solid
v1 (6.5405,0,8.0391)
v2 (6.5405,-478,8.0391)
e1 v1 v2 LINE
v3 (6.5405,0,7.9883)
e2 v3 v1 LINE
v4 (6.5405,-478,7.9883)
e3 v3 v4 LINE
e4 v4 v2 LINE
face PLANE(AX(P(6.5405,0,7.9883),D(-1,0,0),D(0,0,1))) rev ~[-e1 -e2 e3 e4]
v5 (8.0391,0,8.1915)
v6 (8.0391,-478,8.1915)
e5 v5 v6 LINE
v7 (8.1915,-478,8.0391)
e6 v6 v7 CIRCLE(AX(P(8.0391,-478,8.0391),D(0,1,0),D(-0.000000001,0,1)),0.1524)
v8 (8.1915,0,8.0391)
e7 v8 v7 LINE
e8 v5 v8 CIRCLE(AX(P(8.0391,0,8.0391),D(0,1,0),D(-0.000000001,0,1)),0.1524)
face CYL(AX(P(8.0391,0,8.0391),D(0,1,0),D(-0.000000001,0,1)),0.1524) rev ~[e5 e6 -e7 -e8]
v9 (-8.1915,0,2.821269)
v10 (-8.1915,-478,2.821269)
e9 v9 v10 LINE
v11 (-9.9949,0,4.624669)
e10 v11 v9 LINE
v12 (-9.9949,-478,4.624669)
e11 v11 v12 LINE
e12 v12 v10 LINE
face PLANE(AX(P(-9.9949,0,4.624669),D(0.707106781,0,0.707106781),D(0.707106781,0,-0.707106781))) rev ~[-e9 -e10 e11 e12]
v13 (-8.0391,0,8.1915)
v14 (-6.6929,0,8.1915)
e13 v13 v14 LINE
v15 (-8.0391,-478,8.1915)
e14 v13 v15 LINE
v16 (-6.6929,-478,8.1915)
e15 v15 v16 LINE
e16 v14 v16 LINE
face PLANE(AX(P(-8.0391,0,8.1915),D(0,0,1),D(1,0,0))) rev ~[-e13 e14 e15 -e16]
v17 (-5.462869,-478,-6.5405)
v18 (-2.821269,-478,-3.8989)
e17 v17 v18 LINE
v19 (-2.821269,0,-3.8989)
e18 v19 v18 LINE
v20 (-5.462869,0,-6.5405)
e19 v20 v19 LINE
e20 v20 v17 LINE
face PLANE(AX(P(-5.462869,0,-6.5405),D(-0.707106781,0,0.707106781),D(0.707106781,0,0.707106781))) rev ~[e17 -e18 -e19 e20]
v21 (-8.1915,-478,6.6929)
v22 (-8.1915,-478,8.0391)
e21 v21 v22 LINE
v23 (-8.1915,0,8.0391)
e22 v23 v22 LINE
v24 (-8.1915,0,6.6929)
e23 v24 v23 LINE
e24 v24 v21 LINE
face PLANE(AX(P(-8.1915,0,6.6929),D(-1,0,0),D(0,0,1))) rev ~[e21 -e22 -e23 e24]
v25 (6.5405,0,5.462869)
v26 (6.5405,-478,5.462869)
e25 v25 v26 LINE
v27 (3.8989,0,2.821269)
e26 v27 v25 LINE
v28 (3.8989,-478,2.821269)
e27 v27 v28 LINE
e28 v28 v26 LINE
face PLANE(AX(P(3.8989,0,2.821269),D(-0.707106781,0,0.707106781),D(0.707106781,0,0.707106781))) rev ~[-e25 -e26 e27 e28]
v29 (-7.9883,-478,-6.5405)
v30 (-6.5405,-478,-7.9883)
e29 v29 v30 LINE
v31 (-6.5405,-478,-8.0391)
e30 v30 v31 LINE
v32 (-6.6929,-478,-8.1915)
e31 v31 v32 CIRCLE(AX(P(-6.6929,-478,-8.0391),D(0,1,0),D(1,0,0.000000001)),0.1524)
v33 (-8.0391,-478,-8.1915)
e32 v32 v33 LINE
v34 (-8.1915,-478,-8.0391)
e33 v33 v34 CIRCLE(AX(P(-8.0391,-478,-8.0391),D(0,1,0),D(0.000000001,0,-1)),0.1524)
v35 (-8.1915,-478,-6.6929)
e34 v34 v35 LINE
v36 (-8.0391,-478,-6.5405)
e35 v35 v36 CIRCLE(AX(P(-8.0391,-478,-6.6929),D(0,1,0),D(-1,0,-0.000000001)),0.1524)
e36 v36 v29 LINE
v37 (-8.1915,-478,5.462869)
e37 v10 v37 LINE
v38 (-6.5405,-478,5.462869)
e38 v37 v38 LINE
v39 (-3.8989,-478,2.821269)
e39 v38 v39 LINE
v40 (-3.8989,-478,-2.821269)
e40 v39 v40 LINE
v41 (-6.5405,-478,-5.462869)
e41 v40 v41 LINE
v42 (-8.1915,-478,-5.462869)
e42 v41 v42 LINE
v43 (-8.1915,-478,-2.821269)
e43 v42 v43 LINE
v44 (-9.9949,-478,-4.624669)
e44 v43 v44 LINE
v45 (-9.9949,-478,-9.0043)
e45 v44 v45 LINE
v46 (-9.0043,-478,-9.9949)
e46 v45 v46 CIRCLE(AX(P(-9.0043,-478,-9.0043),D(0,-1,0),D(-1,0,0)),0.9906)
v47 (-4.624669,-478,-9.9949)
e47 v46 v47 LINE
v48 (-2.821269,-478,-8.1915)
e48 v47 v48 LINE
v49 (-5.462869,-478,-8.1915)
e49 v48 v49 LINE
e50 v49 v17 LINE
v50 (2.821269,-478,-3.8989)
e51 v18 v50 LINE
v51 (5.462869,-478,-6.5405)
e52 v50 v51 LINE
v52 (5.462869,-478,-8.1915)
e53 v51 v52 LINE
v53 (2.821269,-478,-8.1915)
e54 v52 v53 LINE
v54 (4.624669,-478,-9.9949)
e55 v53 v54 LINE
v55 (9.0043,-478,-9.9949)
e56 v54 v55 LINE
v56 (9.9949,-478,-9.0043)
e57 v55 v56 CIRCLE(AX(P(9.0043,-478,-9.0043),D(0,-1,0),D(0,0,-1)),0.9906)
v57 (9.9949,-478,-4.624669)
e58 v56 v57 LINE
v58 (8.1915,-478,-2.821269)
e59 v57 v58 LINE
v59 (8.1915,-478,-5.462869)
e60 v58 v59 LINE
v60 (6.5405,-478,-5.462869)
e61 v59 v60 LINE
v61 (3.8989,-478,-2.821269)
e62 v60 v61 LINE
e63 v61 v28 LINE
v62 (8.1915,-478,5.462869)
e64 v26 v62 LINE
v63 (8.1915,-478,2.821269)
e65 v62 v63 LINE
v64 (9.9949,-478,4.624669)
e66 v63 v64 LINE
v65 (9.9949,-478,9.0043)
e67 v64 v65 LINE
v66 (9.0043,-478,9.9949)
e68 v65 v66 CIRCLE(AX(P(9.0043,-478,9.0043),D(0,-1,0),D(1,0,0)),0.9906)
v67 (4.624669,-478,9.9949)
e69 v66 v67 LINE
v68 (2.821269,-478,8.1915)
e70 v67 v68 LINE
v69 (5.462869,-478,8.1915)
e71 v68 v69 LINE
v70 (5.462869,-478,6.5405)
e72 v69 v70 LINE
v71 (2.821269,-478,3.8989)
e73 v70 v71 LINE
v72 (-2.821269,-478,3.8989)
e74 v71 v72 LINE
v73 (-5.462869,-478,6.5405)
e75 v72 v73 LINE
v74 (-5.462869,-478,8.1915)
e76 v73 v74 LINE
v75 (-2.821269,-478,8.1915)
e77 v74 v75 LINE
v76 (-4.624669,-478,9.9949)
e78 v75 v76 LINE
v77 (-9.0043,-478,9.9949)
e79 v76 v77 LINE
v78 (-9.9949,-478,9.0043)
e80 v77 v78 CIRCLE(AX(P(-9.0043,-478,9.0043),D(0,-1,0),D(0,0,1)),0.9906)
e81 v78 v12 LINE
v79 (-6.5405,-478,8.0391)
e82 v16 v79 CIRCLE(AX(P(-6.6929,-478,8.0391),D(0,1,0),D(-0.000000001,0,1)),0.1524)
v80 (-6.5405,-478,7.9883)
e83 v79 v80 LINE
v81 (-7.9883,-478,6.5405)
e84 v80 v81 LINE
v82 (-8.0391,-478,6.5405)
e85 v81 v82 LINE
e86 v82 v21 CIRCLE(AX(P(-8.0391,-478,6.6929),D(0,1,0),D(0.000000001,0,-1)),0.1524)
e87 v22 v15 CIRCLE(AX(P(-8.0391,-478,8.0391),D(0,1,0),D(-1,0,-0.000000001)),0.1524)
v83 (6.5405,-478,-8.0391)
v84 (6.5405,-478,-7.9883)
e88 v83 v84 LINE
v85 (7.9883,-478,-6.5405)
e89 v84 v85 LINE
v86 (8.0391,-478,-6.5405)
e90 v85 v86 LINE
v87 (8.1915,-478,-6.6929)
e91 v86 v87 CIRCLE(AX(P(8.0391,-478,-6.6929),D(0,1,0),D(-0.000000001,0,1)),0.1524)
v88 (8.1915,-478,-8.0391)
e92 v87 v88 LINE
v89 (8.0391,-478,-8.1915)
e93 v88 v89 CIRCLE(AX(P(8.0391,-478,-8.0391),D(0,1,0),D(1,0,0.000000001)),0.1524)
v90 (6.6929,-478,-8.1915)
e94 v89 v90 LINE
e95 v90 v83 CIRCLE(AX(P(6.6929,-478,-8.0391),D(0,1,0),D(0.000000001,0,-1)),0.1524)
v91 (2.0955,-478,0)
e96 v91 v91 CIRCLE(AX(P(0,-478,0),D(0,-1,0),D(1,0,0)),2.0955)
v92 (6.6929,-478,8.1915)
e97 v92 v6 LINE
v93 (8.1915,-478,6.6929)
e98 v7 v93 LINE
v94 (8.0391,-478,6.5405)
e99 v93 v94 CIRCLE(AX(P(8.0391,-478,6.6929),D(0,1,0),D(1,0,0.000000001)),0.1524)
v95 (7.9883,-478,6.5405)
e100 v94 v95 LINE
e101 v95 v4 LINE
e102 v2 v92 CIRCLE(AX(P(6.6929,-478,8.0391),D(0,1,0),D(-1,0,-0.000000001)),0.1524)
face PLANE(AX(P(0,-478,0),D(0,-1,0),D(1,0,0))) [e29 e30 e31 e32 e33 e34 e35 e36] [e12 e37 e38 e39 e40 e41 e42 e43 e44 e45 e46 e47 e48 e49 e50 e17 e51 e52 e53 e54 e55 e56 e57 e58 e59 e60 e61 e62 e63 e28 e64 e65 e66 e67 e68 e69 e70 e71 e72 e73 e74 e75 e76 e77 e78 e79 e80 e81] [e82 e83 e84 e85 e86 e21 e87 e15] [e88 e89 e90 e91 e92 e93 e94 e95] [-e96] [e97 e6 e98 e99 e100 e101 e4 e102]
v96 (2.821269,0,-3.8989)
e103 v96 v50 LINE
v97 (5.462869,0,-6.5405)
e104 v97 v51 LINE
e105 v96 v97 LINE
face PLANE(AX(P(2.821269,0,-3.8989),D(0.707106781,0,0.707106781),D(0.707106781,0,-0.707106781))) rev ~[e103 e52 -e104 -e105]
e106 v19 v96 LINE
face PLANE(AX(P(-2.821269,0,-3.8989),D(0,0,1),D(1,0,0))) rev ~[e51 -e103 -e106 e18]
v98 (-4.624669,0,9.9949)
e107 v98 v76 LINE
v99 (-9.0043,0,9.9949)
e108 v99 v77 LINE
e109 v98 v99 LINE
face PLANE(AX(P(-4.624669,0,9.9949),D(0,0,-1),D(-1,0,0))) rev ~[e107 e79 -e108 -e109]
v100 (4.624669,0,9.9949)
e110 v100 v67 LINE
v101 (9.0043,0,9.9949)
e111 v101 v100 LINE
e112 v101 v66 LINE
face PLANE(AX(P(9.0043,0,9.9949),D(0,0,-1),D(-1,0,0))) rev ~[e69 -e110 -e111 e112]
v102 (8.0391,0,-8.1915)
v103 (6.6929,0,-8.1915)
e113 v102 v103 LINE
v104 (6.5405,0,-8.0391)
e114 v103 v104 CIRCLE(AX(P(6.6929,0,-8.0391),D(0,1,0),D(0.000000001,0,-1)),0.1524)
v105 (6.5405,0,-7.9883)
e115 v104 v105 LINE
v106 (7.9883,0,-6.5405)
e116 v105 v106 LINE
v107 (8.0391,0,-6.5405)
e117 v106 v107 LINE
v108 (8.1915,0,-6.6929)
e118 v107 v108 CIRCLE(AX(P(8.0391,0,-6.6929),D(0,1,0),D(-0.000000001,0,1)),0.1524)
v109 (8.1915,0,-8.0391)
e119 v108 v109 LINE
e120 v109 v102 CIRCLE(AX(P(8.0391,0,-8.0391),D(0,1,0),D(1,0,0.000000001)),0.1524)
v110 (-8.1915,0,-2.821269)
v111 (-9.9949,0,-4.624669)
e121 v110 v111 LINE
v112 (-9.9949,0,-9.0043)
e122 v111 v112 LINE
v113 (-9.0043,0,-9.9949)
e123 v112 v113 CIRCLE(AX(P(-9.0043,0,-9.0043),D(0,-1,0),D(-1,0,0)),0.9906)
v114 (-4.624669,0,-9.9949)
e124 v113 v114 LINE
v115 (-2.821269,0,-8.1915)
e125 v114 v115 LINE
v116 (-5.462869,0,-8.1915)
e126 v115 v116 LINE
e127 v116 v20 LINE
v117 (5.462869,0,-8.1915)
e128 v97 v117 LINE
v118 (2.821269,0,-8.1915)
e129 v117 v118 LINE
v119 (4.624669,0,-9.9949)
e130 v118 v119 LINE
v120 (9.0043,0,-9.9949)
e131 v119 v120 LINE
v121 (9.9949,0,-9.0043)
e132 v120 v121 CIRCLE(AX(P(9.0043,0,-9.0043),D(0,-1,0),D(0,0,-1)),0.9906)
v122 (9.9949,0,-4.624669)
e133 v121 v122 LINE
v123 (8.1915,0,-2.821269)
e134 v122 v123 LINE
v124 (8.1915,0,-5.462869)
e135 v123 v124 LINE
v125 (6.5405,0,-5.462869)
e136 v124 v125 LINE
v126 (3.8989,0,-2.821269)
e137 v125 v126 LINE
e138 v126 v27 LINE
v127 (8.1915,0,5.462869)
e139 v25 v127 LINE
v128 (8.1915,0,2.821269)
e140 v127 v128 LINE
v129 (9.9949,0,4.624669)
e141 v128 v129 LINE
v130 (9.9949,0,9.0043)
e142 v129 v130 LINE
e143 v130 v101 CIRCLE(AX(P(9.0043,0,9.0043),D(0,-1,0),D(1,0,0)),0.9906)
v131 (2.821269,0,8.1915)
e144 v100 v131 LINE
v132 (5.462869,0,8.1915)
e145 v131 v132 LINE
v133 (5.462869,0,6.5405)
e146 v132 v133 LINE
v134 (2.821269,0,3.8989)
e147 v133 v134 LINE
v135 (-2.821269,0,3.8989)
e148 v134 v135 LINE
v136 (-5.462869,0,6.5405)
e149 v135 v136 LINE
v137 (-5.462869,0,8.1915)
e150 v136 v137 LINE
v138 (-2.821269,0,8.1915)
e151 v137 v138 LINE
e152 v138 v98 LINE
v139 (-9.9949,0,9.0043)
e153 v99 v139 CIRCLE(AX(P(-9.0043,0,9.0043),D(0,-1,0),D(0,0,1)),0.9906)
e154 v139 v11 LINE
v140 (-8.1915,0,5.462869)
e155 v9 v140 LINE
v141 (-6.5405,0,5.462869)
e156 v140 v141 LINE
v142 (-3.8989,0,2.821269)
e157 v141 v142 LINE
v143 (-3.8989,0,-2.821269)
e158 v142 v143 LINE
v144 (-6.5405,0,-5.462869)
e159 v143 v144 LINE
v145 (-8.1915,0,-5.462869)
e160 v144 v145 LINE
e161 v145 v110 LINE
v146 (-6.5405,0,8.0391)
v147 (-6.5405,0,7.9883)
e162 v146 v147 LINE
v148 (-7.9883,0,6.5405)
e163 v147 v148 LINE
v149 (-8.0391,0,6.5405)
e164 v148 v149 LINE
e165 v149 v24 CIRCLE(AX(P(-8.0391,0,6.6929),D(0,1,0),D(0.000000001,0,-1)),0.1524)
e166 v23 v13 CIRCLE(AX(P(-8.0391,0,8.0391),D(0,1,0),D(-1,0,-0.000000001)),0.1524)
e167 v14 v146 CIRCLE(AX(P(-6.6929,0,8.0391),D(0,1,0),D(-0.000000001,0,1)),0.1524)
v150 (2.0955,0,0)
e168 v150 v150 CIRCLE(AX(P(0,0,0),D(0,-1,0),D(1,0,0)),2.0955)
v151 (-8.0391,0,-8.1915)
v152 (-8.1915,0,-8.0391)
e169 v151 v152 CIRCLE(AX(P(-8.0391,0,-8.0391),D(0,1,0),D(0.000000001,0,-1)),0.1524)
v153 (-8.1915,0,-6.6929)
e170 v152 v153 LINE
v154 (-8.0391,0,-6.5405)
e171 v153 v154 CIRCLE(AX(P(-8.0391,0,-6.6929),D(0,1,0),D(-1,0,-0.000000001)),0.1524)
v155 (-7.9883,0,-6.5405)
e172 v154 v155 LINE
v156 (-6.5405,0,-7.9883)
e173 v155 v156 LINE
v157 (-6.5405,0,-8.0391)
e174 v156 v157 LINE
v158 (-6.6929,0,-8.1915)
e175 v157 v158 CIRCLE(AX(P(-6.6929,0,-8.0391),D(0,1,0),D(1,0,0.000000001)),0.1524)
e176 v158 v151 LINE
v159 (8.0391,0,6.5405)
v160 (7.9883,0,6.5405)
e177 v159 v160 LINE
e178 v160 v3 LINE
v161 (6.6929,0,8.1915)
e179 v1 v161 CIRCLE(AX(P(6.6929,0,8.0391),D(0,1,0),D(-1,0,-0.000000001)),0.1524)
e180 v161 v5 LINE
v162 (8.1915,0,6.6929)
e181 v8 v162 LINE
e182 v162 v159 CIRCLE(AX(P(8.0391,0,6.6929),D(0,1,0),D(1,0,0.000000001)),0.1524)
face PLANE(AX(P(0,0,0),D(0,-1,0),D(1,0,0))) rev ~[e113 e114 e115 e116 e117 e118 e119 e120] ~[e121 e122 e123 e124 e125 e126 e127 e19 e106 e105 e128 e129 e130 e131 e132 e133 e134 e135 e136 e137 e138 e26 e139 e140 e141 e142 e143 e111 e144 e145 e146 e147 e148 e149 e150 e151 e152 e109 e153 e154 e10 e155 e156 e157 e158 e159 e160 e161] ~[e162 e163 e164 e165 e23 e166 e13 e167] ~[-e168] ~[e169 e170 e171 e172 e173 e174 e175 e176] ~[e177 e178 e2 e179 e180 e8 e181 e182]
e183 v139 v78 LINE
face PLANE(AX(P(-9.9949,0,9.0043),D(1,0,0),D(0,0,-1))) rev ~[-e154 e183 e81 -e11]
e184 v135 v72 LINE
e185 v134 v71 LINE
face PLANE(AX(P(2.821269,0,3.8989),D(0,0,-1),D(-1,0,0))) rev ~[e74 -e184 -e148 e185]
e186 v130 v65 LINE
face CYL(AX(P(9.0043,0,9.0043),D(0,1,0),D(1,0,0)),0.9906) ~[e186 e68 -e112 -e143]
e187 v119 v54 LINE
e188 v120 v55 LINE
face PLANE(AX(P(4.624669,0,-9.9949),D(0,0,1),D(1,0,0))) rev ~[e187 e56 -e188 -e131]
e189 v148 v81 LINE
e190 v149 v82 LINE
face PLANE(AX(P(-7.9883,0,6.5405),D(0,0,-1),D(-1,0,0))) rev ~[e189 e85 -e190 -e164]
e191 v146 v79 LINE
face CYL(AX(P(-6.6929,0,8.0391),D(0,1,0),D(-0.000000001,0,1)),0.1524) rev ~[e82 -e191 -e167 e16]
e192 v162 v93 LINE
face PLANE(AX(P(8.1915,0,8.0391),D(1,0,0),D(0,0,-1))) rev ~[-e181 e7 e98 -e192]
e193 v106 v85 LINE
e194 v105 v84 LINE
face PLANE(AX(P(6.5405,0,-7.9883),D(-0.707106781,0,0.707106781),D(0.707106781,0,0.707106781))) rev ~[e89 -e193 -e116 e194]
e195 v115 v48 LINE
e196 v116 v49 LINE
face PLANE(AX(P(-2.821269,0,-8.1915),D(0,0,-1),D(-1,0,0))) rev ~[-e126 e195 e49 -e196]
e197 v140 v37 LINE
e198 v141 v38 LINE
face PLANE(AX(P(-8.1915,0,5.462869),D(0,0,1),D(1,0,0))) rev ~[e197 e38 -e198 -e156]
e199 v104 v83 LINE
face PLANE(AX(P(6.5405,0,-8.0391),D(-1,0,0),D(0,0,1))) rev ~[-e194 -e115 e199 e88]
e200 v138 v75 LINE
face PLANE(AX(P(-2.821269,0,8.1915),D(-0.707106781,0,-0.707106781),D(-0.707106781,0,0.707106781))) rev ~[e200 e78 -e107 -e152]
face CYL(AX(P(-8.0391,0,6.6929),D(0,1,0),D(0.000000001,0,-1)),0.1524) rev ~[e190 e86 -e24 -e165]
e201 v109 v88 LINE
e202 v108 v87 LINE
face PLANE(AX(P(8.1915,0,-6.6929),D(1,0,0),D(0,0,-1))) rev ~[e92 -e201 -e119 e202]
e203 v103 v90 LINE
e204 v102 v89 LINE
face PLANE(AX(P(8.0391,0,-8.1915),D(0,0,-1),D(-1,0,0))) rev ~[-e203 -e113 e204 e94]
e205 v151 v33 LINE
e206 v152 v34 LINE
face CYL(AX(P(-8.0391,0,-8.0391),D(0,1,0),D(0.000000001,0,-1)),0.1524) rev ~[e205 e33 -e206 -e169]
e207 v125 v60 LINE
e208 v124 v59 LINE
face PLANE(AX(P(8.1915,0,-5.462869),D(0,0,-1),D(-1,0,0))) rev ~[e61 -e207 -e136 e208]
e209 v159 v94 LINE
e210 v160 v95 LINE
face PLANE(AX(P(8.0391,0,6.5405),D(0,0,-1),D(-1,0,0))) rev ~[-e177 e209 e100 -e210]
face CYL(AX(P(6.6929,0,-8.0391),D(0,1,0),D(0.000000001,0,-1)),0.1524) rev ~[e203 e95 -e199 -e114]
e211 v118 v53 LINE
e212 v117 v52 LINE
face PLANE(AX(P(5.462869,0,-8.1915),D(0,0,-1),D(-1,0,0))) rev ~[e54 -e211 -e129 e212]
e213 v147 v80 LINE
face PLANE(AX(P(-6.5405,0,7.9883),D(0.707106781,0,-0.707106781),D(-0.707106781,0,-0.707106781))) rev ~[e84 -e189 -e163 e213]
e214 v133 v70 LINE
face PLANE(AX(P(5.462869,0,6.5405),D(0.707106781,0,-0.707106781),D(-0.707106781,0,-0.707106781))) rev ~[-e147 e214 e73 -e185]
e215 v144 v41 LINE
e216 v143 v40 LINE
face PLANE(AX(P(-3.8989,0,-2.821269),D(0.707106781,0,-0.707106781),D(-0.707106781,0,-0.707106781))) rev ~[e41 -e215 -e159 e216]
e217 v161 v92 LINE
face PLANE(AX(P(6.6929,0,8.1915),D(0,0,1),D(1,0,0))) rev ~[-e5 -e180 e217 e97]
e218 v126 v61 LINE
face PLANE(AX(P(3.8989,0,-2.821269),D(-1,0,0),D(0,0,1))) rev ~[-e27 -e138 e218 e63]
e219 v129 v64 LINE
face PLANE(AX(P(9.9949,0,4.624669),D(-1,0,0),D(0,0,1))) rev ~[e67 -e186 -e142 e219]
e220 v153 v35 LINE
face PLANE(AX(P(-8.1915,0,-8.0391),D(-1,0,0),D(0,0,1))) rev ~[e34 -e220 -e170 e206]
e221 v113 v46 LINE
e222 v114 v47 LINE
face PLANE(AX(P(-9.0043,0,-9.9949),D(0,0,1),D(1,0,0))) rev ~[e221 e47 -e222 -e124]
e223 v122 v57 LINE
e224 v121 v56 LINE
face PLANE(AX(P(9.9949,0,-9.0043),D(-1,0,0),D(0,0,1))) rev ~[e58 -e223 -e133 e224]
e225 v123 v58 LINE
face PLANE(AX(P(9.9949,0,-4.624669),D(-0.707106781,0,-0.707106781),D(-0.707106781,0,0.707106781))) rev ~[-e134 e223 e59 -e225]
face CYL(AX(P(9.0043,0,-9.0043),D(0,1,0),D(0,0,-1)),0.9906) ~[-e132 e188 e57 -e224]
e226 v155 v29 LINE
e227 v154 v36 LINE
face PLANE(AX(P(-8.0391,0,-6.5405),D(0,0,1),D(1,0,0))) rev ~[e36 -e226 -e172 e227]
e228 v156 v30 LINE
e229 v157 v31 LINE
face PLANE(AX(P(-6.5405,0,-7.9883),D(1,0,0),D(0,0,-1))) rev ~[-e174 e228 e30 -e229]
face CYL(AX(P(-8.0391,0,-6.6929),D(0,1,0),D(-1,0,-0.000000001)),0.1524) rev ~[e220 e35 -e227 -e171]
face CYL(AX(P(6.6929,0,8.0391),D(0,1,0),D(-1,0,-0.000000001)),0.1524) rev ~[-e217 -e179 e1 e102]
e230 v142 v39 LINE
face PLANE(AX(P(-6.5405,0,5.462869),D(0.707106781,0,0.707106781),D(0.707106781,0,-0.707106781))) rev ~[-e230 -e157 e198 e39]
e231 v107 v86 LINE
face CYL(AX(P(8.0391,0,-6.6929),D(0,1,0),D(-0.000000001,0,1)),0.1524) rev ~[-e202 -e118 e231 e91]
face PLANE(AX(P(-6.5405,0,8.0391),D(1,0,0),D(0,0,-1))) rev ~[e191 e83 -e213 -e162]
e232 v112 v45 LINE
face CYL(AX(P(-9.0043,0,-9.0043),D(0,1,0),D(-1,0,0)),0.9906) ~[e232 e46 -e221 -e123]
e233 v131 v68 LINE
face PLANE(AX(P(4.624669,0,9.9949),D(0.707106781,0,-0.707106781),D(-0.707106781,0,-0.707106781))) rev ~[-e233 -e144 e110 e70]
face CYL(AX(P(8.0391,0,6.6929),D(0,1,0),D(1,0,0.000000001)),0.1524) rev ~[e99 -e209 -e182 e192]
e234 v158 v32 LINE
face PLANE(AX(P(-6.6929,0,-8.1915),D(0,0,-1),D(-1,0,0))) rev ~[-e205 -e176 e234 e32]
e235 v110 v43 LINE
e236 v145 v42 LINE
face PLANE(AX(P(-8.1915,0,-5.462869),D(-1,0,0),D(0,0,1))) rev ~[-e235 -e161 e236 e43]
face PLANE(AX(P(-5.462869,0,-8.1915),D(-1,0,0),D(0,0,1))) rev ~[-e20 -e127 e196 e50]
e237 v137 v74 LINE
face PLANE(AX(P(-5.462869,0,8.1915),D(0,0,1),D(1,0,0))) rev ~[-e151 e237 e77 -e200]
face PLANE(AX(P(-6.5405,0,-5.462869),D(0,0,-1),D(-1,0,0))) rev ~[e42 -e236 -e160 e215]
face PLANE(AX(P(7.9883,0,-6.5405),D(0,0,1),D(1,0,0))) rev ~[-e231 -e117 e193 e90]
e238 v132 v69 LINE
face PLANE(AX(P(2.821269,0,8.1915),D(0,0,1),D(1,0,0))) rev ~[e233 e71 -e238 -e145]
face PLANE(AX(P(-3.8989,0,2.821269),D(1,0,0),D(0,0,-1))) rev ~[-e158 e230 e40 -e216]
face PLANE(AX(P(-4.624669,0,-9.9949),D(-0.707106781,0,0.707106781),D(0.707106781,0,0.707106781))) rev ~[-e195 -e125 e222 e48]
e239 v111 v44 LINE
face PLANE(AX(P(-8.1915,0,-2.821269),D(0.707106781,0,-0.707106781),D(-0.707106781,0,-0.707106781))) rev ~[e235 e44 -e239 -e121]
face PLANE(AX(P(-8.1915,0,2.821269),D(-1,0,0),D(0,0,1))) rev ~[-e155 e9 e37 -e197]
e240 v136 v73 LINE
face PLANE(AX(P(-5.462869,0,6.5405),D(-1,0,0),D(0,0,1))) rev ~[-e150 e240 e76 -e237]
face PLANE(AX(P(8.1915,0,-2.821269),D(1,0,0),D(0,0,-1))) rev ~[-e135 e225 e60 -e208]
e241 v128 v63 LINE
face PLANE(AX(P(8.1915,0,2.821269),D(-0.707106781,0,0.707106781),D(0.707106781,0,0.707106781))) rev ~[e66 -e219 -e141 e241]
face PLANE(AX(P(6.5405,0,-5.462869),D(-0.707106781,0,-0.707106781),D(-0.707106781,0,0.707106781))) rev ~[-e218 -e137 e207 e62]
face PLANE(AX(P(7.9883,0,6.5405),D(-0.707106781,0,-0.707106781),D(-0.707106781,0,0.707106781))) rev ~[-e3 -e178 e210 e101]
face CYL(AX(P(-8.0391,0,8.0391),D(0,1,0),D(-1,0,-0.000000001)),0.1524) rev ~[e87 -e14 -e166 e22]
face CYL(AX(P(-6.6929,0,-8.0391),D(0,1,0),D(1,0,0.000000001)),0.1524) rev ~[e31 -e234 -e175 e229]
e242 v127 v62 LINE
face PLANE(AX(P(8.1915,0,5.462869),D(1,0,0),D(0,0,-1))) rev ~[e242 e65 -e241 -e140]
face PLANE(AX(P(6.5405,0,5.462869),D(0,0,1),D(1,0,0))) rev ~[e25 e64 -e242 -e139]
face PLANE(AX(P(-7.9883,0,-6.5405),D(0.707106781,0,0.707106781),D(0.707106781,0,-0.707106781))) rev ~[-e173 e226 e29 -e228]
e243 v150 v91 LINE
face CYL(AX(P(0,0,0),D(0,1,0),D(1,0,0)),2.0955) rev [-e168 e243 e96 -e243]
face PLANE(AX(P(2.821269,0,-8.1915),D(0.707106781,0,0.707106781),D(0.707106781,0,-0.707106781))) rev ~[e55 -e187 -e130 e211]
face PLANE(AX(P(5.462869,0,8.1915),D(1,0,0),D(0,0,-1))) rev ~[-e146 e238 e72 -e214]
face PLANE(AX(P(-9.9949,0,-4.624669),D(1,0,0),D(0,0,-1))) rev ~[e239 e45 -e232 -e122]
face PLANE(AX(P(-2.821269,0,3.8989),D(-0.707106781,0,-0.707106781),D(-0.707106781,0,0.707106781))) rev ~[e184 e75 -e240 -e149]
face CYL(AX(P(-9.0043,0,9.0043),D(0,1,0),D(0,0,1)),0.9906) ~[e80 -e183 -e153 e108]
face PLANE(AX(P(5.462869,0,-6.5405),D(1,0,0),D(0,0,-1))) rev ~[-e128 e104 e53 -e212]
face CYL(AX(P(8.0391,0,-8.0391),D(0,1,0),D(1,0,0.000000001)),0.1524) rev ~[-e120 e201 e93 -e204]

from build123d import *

# Parameters (mm, degrees)
F0_R     = 2.0955
F2_DEPTH = 478


with BuildPart() as f2:
    # F0 (on Front) → F2 (new body)
    with BuildSketch(Plane.XZ):
        with BuildLine():
            Line((-4.6246692655, 9.9949), (-9.0043, 9.9949))
            ThreePointArc((-9.0043, 9.9949), (-9.7047599774, 9.7047599774), (-9.9949, 9.0043))
            Line((-9.9949, 9.0043), (-9.9949, 4.6246692655))
            Line((-9.9949, 4.6246692655), (-8.1915, 2.8212692655))
            Line((-8.1915, 2.8212692655), (-8.1915, 5.4628692655))
            Line((-8.1915, 5.4628692655), (-6.5405, 5.4628692655))
            Line((-6.5405, 5.4628692655), (-3.8989, 2.8212692655))
            Line((-3.8989, 2.8212692655), (-3.8989, -2.8212692655))
            Line((-3.8989, -2.8212692655), (-6.5405, -5.4628692655))
            Line((-6.5405, -5.4628692655), (-8.1915, -5.4628692655))
            Line((-8.1915, -5.4628692655), (-8.1915, -2.8212692655))
            Line((-8.1915, -2.8212692655), (-9.9949, -4.6246692655))
            Line((-9.9949, -4.6246692655), (-9.9949, -9.0043))
            ThreePointArc((-9.9949, -9.0043), (-9.7047599774, -9.7047599774), (-9.0043, -9.9949))
            Line((-9.0043, -9.9949), (-4.6246692655, -9.9949))
            Line((-4.6246692655, -9.9949), (-2.8212692655, -8.1915))
            Line((-2.8212692655, -8.1915), (-5.4628692655, -8.1915))
            Line((-5.4628692655, -8.1915), (-5.4628692655, -6.5405))
            Line((-5.4628692655, -6.5405), (-2.8212692655, -3.8989))
            Line((-2.8212692655, -3.8989), (2.8212692655, -3.8989))
            Line((2.8212692655, -3.8989), (5.4628692655, -6.5405))
            Line((5.4628692655, -6.5405), (5.4628692655, -8.1915))
            Line((5.4628692655, -8.1915), (2.8212692655, -8.1915))
            Line((2.8212692655, -8.1915), (4.6246692655, -9.9949))
            Line((4.6246692655, -9.9949), (9.0043, -9.9949))
            ThreePointArc((9.0043, -9.9949), (9.7047599774, -9.7047599774), (9.9949, -9.0043))
            Line((9.9949, -9.0043), (9.9949, -4.6246692655))
            Line((9.9949, -4.6246692655), (8.1915, -2.8212692655))
            Line((8.1915, -2.8212692655), (8.1915, -5.4628692655))
            Line((8.1915, -5.4628692655), (6.5405, -5.4628692655))
            Line((6.5405, -5.4628692655), (3.8989, -2.8212692655))
            Line((3.8989, -2.8212692655), (3.8989, 2.8212692655))
            Line((3.8989, 2.8212692655), (6.5405, 5.4628692655))
            Line((6.5405, 5.4628692655), (8.1915, 5.4628692655))
            Line((8.1915, 5.4628692655), (8.1915, 2.8212692655))
            Line((8.1915, 2.8212692655), (9.9949, 4.6246692655))
            Line((9.9949, 4.6246692655), (9.9949, 9.0043))
            ThreePointArc((9.9949, 9.0043), (9.7047599774, 9.7047599774), (9.0043, 9.9949))
            Line((9.0043, 9.9949), (4.6246692655, 9.9949))
            Line((4.6246692655, 9.9949), (2.8212692655, 8.1915))
            Line((2.8212692655, 8.1915), (5.4628692655, 8.1915))
            Line((5.4628692655, 8.1915), (5.4628692655, 6.5405))
            Line((5.4628692655, 6.5405), (2.8212692655, 3.8989))
            Line((2.8212692655, 3.8989), (-2.8212692655, 3.8989))
            Line((-2.8212692655, 3.8989), (-5.4628692655, 6.5405))
            Line((-5.4628692655, 6.5405), (-5.4628692655, 8.1915))
            Line((-5.4628692655, 8.1915), (-2.8212692655, 8.1915))
            Line((-2.8212692655, 8.1915), (-4.6246692655, 9.9949))
        make_face()
        with BuildLine():
            ThreePointArc((-8.0391, -8.1915), (-8.1468630735, -8.1468630735), (-8.1915, -8.0391))
            Line((-8.1915, -8.0391), (-8.1915, -6.6929))
            ThreePointArc((-8.1915, -6.6929), (-8.1468630735, -6.5851369265), (-8.0391, -6.5405))
            Line((-8.0391, -6.5405), (-7.9883, -6.5405))
            Line((-7.9883, -6.5405), (-6.5405, -7.9883))
            Line((-6.5405, -7.9883), (-6.5405, -8.0391))
            ThreePointArc((-6.5405, -8.0391), (-6.5851369265, -8.1468630735), (-6.6929, -8.1915))
            Line((-6.6929, -8.1915), (-8.0391, -8.1915))
        make_face(mode=Mode.SUBTRACT)
        with BuildLine():
            Line((8.1915, -6.6929), (8.1915, -8.0391))
            ThreePointArc((8.1915, -8.0391), (8.1468630735, -8.1468630735), (8.0391, -8.1915))
            Line((8.0391, -8.1915), (6.6929, -8.1915))
            ThreePointArc((6.6929, -8.1915), (6.5851369265, -8.1468630735), (6.5405, -8.0391))
            Line((6.5405, -8.0391), (6.5405, -7.9883))
            Line((6.5405, -7.9883), (7.9883, -6.5405))
            Line((7.9883, -6.5405), (8.0391, -6.5405))
            ThreePointArc((8.0391, -6.5405), (8.1468630735, -6.5851369265), (8.1915, -6.6929))
        make_face(mode=Mode.SUBTRACT)
        with BuildLine():
            Line((-7.9883, 6.5405), (-8.0391, 6.5405))
            ThreePointArc((-8.0391, 6.5405), (-8.1468630735, 6.5851369265), (-8.1915, 6.6929))
            Line((-8.1915, 6.6929), (-8.1915, 8.0391))
            ThreePointArc((-8.1915, 8.0391), (-8.1468630735, 8.1468630735), (-8.0391, 8.1915))
            Line((-8.0391, 8.1915), (-6.6929, 8.1915))
            ThreePointArc((-6.6929, 8.1915), (-6.5851369265, 8.1468630735), (-6.5405, 8.0391))
            Line((-6.5405, 8.0391), (-6.5405, 7.9883))
            Line((-6.5405, 7.9883), (-7.9883, 6.5405))
        make_face(mode=Mode.SUBTRACT)
        Circle(F0_R, mode=Mode.SUBTRACT)
        with BuildLine():
            ThreePointArc((8.1915, 6.6929), (8.1468630735, 6.5851369265), (8.0391, 6.5405))
            Line((8.0391, 6.5405), (7.9883, 6.5405))
            Line((7.9883, 6.5405), (6.5405, 7.9883))
            Line((6.5405, 7.9883), (6.5405, 8.0391))
            ThreePointArc((6.5405, 8.0391), (6.5851369265, 8.1468630735), (6.6929, 8.1915))
            Line((6.6929, 8.1915), (8.0391, 8.1915))
            ThreePointArc((8.0391, 8.1915), (8.1468630735, 8.1468630735), (8.1915, 8.0391))
            Line((8.1915, 8.0391), (8.1915, 6.6929))
        make_face(mode=Mode.SUBTRACT)
    extrude(amount=F2_DEPTH)


solid = f2.part
